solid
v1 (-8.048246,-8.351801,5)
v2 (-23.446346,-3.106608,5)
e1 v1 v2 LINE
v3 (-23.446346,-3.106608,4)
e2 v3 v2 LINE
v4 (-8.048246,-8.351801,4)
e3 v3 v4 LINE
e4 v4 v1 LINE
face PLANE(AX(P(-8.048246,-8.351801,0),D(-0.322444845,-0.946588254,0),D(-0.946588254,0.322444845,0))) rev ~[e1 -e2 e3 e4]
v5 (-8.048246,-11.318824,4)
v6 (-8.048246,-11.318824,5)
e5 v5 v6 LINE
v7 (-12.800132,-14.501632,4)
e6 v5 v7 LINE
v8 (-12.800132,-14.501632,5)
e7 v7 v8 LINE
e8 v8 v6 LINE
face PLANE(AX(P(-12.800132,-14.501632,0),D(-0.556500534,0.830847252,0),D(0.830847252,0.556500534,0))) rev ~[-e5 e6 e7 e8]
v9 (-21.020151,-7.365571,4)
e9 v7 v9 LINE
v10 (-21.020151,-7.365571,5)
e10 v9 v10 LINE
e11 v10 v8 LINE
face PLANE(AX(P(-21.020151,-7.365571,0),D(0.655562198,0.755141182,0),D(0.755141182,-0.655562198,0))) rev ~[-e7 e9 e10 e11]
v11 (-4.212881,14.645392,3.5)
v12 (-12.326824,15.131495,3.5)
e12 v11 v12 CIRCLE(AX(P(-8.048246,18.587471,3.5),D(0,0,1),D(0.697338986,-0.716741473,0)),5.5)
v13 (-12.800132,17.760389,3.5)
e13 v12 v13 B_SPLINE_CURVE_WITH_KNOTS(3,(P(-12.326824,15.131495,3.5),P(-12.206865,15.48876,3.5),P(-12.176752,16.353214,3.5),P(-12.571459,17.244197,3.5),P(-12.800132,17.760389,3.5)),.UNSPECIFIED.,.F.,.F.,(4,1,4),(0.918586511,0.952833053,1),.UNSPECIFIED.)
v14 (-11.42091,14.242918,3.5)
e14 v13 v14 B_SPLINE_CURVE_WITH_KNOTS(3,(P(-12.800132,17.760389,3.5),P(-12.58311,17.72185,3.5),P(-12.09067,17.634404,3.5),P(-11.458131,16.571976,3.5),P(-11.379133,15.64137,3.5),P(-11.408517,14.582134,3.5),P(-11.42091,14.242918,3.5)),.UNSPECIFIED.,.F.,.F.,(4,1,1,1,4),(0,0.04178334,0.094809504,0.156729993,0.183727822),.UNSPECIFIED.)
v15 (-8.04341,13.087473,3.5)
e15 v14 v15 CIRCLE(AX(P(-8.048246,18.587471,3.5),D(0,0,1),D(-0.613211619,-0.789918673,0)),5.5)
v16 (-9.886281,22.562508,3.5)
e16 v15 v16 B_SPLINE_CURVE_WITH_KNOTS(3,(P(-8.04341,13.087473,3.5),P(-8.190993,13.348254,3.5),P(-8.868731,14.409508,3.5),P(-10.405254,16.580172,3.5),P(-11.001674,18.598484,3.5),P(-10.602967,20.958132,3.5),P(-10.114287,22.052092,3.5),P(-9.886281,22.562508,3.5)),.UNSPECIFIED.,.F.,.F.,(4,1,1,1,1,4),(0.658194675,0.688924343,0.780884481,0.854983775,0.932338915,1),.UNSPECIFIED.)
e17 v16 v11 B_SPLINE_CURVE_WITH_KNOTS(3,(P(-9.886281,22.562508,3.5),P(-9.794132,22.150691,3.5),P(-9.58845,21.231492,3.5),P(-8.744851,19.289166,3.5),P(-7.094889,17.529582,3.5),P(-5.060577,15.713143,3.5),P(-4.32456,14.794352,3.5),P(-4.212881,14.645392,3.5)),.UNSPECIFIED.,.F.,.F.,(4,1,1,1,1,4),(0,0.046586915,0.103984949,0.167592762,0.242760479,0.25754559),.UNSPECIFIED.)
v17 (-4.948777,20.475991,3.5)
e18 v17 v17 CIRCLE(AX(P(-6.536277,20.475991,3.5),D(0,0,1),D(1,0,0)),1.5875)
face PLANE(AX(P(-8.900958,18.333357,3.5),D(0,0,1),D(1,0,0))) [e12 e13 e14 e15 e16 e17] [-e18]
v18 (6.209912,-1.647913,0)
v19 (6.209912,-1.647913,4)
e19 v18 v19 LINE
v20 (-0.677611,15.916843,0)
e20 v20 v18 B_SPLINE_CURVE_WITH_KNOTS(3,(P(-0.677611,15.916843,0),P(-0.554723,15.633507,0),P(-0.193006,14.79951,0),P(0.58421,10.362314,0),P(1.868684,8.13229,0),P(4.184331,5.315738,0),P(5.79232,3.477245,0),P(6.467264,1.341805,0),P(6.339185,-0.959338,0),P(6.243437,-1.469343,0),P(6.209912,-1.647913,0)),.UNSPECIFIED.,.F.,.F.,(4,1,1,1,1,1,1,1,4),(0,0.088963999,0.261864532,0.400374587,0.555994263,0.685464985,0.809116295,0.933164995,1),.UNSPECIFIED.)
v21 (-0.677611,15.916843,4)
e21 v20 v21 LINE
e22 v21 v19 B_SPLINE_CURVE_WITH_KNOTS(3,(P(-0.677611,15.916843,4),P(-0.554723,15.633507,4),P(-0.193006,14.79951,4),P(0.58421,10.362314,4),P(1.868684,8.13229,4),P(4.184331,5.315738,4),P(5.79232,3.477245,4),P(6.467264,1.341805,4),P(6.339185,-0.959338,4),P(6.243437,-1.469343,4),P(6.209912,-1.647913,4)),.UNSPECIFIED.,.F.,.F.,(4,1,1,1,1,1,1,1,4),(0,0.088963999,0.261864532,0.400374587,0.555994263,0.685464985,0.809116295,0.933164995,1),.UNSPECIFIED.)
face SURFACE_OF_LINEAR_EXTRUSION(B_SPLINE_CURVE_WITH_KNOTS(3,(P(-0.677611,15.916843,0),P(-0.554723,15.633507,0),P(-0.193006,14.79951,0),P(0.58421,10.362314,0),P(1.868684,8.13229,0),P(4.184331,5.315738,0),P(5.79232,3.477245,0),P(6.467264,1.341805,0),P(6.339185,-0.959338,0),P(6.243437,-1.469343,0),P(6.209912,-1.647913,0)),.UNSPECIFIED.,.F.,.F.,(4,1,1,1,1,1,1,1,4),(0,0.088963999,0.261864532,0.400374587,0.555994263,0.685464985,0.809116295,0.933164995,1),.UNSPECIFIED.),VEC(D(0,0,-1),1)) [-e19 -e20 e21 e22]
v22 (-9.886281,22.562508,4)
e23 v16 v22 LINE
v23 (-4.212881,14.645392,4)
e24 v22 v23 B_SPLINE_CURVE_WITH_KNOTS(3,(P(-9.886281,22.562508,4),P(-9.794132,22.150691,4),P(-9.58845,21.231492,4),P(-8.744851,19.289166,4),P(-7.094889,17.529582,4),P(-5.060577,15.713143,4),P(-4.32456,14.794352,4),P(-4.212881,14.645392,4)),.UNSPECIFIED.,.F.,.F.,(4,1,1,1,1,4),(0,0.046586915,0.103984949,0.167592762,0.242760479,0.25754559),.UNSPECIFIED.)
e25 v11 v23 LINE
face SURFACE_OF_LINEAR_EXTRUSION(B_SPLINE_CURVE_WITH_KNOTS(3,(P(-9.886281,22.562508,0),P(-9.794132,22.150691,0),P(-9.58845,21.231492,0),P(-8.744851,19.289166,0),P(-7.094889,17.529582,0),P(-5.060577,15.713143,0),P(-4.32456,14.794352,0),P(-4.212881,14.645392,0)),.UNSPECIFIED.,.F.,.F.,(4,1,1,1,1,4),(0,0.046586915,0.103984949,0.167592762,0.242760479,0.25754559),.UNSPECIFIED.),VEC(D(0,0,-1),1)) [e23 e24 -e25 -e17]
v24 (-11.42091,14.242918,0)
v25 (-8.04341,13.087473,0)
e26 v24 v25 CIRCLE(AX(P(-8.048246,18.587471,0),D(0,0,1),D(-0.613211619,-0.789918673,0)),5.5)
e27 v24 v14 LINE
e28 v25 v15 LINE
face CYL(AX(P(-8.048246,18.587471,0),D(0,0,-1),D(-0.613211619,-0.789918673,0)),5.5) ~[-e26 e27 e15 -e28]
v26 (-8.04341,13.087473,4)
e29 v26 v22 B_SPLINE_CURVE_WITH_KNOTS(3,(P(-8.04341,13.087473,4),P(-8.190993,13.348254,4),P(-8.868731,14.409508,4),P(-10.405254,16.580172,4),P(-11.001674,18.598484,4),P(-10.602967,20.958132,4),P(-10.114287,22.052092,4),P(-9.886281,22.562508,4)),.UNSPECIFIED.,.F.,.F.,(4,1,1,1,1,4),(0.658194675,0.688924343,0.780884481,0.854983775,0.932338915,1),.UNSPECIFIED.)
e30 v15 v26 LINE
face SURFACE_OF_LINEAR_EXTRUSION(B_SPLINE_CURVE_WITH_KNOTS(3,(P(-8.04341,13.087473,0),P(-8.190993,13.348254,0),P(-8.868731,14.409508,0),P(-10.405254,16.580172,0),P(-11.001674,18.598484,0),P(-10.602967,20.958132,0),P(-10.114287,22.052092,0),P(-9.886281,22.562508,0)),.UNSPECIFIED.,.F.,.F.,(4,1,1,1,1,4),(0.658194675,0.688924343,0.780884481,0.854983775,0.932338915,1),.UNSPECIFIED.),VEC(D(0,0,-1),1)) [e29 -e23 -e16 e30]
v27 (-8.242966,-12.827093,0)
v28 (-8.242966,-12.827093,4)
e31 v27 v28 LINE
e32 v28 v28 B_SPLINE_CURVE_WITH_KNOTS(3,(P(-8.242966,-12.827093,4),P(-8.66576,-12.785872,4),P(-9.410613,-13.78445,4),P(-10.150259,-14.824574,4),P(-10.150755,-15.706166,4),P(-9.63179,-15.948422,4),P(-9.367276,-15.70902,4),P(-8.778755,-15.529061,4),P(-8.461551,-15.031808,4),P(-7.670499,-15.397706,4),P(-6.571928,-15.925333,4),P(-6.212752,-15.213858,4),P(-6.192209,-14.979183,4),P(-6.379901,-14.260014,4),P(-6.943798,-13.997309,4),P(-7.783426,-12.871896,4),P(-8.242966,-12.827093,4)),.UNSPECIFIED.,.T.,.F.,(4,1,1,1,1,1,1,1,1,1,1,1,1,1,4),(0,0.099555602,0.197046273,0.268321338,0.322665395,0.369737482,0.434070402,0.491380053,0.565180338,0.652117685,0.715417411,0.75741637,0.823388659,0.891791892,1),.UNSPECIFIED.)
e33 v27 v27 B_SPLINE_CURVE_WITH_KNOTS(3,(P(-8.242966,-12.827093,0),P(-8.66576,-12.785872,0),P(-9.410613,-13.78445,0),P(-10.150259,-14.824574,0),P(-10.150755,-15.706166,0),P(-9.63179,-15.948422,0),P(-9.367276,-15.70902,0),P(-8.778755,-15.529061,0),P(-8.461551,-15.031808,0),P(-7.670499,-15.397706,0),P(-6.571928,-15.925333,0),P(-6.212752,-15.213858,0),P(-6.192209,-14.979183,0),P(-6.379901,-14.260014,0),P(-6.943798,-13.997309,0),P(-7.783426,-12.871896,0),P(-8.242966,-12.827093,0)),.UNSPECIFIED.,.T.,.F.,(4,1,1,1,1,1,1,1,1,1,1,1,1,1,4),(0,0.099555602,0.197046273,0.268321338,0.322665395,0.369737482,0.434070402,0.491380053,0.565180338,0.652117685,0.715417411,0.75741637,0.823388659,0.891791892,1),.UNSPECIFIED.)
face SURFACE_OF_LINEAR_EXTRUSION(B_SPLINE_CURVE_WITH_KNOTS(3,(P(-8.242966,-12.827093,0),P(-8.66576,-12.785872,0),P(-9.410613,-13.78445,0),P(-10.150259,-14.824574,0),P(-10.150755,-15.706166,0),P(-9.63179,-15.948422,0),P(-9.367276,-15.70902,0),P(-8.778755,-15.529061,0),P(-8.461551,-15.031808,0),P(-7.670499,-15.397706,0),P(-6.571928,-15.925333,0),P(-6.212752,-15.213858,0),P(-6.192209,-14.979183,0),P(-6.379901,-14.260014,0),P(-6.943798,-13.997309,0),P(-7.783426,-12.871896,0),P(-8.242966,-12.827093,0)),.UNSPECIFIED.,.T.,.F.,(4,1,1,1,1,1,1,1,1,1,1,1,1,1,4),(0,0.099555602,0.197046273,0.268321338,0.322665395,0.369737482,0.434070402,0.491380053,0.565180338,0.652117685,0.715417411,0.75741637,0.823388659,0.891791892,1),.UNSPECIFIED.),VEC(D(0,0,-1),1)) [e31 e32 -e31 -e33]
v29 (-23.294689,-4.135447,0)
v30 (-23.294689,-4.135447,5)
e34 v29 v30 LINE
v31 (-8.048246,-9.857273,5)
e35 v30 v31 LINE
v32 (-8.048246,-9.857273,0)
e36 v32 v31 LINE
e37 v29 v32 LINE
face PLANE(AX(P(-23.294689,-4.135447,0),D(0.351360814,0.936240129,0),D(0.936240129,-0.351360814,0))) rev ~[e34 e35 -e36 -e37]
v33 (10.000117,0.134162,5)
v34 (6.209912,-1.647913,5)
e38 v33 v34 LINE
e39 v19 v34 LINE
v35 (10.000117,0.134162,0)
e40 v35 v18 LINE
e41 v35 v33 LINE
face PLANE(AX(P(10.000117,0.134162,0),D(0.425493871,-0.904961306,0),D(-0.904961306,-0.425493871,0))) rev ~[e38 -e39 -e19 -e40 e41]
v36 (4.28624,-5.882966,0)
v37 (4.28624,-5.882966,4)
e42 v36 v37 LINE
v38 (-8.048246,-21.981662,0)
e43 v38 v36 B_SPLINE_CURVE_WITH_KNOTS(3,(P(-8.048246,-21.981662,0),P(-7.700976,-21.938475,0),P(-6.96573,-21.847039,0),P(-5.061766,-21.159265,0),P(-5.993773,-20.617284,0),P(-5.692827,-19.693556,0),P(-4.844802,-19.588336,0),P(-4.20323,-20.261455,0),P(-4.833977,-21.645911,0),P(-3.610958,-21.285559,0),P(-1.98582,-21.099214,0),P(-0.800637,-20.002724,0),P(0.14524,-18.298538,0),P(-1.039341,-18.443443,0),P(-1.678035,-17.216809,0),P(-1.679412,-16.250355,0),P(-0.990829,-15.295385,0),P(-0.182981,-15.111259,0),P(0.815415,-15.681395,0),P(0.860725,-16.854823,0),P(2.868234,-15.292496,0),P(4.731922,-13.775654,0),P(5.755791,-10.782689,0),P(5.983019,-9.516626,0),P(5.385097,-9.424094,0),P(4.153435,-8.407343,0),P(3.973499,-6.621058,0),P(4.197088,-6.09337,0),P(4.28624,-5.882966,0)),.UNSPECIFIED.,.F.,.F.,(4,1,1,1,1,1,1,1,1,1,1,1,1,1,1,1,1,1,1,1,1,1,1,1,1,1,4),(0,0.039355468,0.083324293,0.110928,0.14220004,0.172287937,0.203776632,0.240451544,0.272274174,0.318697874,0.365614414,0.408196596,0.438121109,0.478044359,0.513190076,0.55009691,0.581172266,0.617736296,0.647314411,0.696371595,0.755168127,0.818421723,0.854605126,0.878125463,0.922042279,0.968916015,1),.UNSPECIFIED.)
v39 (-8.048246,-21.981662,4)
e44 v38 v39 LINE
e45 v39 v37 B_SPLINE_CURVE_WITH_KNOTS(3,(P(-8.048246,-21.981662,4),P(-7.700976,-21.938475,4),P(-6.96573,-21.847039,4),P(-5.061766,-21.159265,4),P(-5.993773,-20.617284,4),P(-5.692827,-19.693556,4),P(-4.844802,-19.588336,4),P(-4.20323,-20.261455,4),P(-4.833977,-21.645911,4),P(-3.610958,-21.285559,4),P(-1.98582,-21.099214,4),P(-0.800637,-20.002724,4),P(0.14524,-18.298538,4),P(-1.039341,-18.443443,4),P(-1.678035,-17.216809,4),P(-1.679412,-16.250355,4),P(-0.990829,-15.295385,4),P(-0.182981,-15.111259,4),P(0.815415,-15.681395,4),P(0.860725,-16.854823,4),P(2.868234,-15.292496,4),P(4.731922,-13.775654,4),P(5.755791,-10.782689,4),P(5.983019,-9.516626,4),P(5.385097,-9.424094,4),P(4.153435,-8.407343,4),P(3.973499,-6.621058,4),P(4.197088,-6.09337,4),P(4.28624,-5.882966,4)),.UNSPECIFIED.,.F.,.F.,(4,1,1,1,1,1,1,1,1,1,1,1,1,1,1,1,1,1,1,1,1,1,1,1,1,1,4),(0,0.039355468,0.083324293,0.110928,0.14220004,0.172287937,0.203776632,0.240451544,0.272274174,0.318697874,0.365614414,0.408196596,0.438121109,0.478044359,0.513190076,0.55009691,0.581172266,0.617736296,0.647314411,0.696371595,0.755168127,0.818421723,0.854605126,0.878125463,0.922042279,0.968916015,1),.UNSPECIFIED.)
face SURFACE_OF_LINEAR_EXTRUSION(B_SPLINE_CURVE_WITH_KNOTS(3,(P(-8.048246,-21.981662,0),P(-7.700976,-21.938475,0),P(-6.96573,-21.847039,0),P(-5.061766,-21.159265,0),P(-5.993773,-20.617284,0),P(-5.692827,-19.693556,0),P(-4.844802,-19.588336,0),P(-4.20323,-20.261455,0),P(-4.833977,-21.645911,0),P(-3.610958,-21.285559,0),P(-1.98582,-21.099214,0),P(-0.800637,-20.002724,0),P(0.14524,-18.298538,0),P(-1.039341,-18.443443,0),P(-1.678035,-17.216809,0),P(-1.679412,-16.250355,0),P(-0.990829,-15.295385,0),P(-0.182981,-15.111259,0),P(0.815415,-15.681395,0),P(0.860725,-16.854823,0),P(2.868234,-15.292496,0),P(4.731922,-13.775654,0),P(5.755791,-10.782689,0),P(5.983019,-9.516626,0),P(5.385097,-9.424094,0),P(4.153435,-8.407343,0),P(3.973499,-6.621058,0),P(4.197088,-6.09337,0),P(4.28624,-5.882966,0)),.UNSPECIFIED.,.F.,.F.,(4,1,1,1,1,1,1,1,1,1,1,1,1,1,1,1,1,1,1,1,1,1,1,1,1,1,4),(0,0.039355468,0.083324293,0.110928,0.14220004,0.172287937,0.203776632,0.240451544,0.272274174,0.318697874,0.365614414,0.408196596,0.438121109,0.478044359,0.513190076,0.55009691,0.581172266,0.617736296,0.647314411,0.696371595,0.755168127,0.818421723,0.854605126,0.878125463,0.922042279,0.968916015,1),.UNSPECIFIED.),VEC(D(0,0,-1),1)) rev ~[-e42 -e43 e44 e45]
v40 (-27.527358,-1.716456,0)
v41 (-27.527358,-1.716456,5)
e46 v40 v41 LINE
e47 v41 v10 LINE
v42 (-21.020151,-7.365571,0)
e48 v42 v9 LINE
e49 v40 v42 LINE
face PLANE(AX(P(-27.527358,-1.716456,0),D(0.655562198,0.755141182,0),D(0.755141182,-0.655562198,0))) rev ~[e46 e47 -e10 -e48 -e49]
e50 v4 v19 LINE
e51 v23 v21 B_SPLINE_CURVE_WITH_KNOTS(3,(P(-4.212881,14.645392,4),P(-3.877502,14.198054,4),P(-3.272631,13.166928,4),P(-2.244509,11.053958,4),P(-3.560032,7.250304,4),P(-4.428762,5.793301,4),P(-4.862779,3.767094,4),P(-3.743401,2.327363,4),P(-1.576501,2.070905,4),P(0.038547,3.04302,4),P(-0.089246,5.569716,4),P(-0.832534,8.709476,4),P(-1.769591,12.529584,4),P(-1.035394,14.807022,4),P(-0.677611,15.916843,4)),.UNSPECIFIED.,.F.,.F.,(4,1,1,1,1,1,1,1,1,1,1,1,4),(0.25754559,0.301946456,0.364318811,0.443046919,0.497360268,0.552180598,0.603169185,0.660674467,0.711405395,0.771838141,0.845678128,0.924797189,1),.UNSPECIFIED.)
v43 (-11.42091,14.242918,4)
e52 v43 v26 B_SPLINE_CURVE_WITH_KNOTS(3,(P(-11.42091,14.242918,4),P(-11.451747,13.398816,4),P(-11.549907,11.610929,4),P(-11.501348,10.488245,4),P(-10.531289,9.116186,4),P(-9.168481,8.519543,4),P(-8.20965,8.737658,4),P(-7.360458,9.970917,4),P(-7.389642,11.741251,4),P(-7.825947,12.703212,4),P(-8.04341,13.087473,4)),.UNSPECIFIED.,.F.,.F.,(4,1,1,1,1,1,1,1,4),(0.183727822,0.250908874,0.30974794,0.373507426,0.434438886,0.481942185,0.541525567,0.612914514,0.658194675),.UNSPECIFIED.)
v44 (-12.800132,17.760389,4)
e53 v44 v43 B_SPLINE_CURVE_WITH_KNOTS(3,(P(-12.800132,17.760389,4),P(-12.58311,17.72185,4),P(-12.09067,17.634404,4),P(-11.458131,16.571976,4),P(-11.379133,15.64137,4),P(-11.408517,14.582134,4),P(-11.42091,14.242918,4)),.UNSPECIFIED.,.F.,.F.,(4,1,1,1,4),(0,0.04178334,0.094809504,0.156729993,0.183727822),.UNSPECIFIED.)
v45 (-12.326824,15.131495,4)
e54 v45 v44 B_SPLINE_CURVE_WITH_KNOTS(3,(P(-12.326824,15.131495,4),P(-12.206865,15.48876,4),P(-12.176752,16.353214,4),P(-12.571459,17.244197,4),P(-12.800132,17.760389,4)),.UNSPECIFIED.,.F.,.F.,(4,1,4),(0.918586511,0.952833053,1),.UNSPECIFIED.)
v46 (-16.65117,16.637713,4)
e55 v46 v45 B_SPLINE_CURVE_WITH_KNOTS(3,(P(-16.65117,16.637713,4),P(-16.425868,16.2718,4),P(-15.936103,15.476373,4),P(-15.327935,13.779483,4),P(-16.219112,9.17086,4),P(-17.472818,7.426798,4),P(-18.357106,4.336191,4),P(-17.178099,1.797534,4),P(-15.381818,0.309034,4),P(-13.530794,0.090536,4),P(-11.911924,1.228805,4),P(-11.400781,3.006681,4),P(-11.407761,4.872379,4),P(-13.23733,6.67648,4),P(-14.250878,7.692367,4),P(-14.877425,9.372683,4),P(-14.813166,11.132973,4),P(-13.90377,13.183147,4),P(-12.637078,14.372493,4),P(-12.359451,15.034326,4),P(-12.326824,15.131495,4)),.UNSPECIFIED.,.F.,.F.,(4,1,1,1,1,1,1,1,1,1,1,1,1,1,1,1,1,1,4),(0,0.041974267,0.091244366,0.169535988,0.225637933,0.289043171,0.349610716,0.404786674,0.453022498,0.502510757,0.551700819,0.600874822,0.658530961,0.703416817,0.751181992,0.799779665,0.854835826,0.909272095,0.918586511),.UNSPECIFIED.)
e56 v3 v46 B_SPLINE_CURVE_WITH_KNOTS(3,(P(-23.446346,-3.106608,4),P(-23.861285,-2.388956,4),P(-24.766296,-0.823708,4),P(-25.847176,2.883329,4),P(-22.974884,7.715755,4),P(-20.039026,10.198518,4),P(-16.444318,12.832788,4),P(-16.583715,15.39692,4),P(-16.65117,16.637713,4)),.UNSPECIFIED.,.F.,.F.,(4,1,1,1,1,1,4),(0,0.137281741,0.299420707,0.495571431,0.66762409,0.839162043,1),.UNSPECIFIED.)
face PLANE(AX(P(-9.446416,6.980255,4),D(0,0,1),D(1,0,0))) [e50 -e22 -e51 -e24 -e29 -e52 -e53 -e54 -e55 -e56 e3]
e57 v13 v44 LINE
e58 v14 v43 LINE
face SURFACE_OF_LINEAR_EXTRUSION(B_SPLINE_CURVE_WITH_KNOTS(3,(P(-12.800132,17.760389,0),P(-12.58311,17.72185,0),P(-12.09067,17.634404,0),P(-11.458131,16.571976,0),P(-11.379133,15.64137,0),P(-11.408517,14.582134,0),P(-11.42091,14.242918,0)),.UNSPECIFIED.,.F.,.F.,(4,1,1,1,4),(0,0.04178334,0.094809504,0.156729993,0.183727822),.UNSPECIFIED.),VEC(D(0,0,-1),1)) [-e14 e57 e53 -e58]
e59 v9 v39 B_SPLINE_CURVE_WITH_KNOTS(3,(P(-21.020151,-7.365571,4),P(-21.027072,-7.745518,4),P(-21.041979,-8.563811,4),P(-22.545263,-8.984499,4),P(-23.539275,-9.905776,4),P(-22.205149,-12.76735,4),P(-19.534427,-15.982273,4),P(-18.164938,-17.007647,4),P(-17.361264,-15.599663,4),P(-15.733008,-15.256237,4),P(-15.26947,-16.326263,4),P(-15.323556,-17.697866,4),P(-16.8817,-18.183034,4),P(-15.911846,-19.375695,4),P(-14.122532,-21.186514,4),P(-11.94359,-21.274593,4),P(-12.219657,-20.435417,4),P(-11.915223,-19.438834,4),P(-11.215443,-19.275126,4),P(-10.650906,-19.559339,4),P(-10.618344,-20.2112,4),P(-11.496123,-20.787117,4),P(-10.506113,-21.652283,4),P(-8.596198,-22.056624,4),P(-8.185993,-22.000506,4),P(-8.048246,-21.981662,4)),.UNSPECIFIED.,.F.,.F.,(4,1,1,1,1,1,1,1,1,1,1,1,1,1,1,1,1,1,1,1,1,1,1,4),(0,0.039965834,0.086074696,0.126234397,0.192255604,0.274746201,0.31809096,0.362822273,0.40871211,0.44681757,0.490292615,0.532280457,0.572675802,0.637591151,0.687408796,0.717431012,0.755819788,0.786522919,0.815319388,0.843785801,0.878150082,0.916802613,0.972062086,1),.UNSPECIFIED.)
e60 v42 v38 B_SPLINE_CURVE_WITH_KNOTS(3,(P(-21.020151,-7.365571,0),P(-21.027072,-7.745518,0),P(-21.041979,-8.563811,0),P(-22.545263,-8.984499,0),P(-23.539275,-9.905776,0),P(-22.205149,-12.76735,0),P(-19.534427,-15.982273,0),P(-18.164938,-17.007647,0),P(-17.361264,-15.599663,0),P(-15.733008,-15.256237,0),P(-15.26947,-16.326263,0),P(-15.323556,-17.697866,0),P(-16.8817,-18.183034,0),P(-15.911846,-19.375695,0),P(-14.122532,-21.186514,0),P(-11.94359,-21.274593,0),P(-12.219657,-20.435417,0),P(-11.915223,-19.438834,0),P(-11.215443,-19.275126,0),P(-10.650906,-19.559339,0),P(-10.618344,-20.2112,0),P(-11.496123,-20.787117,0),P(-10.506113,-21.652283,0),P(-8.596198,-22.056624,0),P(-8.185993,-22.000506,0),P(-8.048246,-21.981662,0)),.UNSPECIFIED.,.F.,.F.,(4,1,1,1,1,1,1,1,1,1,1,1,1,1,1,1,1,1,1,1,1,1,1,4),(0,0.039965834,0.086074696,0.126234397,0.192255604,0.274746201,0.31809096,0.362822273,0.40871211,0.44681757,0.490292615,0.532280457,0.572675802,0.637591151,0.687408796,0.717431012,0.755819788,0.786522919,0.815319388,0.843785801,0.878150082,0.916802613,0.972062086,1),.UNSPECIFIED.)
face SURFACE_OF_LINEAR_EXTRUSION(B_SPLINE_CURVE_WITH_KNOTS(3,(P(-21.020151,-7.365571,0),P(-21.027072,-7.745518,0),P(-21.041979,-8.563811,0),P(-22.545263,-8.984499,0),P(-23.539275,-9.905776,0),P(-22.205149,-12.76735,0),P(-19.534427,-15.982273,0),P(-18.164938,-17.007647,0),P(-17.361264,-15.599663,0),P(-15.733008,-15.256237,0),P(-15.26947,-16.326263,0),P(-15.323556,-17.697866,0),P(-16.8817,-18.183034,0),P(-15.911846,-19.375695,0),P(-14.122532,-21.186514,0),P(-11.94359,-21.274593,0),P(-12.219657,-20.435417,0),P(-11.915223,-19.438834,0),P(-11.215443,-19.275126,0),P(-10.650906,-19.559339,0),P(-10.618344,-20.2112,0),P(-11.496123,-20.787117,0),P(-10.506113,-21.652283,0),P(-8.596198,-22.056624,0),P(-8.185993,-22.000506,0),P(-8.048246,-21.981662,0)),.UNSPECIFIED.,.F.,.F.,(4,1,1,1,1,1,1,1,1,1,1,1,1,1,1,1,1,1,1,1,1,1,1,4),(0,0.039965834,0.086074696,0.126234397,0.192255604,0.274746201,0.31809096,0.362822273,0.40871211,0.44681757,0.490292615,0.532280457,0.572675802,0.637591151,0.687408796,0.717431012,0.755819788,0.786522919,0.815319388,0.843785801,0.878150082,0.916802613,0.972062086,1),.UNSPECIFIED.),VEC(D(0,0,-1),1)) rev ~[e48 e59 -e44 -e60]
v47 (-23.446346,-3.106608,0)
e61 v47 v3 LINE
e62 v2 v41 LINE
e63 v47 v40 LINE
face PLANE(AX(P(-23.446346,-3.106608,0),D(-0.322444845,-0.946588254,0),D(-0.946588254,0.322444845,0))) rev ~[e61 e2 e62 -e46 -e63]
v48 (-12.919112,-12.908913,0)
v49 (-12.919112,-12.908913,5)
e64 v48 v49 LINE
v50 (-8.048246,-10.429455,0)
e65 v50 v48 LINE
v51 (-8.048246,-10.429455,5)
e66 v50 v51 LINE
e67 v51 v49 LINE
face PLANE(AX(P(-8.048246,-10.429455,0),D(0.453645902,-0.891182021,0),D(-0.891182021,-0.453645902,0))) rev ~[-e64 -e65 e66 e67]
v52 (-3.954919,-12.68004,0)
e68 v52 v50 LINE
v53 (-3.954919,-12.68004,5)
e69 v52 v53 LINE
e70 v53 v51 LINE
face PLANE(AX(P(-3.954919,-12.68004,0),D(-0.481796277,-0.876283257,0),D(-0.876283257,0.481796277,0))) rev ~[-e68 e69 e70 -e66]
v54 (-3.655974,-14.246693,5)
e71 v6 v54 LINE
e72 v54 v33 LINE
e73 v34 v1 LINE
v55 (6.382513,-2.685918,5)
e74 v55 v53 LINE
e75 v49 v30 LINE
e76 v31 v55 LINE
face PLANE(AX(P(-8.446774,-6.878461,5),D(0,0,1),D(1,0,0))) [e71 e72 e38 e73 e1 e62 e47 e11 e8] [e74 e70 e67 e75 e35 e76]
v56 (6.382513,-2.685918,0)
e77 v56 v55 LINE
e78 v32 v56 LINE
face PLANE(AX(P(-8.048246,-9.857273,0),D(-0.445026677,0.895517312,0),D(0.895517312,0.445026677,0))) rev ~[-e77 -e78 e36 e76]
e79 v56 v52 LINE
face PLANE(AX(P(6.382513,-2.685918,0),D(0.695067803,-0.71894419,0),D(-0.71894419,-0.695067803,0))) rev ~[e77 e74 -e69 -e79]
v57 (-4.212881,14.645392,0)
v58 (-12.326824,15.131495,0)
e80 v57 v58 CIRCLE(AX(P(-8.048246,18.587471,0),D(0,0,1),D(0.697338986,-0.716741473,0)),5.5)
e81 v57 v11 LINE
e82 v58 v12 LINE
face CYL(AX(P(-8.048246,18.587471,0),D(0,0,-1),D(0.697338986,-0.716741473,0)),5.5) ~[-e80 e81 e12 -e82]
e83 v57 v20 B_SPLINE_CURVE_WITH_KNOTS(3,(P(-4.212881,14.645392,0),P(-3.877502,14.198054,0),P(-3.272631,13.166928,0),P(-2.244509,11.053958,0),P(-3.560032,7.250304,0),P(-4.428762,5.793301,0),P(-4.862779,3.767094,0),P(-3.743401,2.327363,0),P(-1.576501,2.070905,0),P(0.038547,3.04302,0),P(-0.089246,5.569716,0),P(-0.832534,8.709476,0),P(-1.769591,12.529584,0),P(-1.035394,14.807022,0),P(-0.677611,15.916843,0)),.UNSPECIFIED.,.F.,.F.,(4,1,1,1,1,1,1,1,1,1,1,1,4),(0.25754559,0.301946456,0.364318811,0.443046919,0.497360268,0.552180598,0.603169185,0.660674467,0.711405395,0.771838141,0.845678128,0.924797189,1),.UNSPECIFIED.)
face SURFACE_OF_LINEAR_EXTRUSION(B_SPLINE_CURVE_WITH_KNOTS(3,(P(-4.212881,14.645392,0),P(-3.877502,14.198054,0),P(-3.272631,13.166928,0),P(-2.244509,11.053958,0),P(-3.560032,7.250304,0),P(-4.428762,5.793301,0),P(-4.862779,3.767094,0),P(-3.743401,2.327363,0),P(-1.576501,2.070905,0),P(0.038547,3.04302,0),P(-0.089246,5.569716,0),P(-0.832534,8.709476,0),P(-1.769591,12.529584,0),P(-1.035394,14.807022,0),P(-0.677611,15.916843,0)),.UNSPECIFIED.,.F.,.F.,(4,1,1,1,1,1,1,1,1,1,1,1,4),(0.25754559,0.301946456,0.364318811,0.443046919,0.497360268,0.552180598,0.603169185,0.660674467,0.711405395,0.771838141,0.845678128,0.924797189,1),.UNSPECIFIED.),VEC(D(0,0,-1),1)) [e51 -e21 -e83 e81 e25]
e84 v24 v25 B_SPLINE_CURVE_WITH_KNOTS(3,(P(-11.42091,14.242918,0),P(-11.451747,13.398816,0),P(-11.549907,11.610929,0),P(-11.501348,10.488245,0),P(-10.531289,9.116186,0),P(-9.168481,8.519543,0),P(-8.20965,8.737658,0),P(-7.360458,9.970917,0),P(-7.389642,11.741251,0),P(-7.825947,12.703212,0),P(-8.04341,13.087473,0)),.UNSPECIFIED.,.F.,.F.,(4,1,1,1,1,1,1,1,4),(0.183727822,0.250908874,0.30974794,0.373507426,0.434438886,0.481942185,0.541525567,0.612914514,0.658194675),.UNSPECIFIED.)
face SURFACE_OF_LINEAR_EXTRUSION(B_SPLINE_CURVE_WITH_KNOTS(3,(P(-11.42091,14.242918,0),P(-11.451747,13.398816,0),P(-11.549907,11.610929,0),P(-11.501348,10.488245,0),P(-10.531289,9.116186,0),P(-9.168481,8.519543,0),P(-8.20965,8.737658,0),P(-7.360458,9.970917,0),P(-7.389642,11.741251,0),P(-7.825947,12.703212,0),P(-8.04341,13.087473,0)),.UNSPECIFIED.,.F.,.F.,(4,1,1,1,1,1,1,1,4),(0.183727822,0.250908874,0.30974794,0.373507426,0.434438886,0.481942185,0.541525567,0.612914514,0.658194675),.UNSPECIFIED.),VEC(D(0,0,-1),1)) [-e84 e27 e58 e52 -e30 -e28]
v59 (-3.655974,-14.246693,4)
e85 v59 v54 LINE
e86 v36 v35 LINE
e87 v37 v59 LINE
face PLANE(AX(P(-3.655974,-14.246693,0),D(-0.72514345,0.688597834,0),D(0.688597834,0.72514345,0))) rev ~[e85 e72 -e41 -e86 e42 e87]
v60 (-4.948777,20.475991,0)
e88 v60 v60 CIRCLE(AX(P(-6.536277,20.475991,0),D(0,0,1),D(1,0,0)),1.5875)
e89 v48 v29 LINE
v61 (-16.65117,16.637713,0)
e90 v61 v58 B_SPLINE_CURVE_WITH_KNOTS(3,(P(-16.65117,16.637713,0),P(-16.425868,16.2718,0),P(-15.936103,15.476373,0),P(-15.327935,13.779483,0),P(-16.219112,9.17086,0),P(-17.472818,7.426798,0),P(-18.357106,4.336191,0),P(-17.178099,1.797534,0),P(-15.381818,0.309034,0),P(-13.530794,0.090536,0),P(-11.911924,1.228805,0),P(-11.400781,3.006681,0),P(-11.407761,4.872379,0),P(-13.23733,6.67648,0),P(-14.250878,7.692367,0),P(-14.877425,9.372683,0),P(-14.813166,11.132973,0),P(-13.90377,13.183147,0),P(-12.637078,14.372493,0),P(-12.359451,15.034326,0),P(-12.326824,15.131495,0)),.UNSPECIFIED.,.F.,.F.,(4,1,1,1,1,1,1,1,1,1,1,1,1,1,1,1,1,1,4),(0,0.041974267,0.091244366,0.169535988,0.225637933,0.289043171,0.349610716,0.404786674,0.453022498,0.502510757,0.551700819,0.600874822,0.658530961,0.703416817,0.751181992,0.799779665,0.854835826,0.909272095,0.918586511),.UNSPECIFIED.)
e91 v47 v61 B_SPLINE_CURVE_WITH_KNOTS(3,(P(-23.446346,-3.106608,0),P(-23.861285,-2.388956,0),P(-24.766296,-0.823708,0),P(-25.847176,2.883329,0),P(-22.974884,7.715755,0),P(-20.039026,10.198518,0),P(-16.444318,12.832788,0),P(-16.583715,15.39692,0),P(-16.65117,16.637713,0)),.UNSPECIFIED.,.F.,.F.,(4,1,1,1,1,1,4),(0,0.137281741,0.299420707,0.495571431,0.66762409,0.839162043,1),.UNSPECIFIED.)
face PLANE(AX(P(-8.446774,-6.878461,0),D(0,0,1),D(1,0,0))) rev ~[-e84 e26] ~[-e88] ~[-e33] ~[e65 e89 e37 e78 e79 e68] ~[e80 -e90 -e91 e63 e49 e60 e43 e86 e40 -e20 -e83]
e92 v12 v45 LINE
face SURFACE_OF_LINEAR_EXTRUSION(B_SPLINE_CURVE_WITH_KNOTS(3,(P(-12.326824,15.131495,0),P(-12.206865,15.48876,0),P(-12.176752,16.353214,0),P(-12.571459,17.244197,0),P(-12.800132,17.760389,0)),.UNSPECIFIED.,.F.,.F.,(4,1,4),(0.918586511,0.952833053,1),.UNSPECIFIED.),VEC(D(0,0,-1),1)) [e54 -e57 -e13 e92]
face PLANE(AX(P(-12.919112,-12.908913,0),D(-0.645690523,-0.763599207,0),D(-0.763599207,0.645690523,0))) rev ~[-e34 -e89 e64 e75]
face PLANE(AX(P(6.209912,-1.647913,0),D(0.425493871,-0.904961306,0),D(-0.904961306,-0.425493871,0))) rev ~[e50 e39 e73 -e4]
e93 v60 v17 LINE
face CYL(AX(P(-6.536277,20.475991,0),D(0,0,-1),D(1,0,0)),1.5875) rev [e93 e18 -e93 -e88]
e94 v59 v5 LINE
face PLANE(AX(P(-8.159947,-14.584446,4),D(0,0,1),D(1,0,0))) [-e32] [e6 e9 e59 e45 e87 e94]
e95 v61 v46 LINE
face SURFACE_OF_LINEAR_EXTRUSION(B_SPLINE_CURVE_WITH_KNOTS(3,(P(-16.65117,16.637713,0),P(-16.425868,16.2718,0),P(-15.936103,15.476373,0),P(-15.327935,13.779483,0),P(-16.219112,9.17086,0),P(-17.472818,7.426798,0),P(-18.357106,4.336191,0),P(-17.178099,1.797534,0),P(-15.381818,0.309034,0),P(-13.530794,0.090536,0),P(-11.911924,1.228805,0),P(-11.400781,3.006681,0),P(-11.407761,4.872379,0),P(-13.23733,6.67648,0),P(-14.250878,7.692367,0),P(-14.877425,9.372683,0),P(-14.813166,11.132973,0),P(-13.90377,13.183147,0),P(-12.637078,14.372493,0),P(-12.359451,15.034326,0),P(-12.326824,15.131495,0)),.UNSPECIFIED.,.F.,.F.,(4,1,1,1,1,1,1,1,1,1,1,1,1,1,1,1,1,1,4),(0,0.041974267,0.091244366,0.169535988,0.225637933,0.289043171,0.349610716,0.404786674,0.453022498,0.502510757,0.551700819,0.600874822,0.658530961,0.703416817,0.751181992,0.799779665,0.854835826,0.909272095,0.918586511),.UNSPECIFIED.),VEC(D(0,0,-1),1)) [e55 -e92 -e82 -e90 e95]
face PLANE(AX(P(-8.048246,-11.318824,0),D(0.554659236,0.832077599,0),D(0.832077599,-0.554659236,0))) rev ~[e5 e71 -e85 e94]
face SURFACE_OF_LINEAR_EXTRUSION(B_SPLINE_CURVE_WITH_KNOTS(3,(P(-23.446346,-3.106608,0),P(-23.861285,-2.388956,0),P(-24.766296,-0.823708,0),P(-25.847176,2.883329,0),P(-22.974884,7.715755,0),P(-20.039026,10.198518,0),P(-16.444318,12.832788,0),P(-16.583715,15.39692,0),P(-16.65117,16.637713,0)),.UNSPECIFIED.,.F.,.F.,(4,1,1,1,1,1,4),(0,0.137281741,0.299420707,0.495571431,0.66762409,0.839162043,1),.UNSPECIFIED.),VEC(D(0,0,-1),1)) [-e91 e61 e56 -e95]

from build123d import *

# Parameters (mm, degrees)
F1_DEPTH = 4
F0_R     = 1.5875
F2_DEPTH = 3.5
F3_DEPTH = 5


with BuildPart() as f1:
    # F0 (on Top) → F1 (new body)
    with BuildSketch(Plane.XY):
        with BuildLine():
            Line((-23.4463458035, -3.1066080533), (-8.0482456853, -8.351800965))
            Line((-8.0482456853, -8.351800965), (6.2099122978, -1.6479134176))
            add(Edge.make_bspline(
                [(-0.6776107475, 15.9168429673), (-0.5547234187, 15.6335068813), (-0.193005946, 14.7995102936), (0.5842103137, 10.3623141888), (1.8686840331, 8.1322903263), (4.1843306677, 5.3157376132), (5.7923203266, 3.4772454688), (6.4672636362, 1.341805332), (6.339184868, -0.9593375788), (6.2434369598, -1.4693428761), (6.2099122978, -1.6479134176)],
                knots=[0, 0, 0, 0, 0.0889639989, 0.2618645319, 0.400374587, 0.555994263, 0.6854649854, 0.8091162952, 0.933164995, 1, 1, 1, 1], degree=3))
            add(Edge.make_bspline(
                [(-4.2128812638, 14.6453924647), (-3.8775023598, 14.1980538485), (-3.272630837, 13.1669278968), (-2.244509103, 11.0539583362), (-3.5600318825, 7.250304177), (-4.4287622123, 5.7933014491), (-4.8627791788, 3.7670937923), (-3.7434011839, 2.3273631703), (-1.5765012047, 2.0709050405), (0.0385468062, 3.0430204467), (-0.0892461913, 5.5697158518), (-0.8325343001, 8.7094761689), (-1.7695911961, 12.5295841732), (-1.0353936141, 14.8070216671), (-0.6776107475, 15.9168429673)],
                knots=[0.2575455897, 0.2575455897, 0.2575455897, 0.2575455897, 0.3019464562, 0.3643188106, 0.4430469187, 0.4973602682, 0.5521805979, 0.603169185, 0.6606744669, 0.7114053954, 0.7718381415, 0.8456781275, 0.9247971891, 1, 1, 1, 1], degree=3))
            add(Edge.make_bspline(
                [(-9.8862806335, 22.56250754), (-9.7941318664, 22.1506914948), (-9.588449974, 21.2314919632), (-8.744850994, 19.2891661398), (-7.0948894855, 17.5295824588), (-5.0605769539, 15.7131426738), (-4.3245595881, 14.7943524214), (-4.2128812638, 14.6453924647)],
                knots=[0, 0, 0, 0, 0.0465869149, 0.1039849489, 0.1675927617, 0.2427604786, 0.2575455897, 0.2575455897, 0.2575455897, 0.2575455897], degree=3))
            add(Edge.make_bspline(
                [(-8.0434103396, 13.0874726912), (-8.1909932862, 13.3482535829), (-8.868731027, 14.4095082148), (-10.4052543664, 16.5801724301), (-11.0016735043, 18.598484066), (-10.6029665302, 20.9581319115), (-10.1142868351, 22.0520920363), (-9.8862806335, 22.56250754)],
                knots=[0.6581946752, 0.6581946752, 0.6581946752, 0.6581946752, 0.6889243431, 0.7808844805, 0.8549837752, 0.9323389146, 1, 1, 1, 1], degree=3))
            add(Edge.make_bspline(
                [(-11.4209095896, 14.2429178627), (-11.4517468384, 13.3988160816), (-11.5499069823, 11.6109293485), (-11.5013479001, 10.4882445874), (-10.531288945, 9.1161864772), (-9.168481161, 8.5195425848), (-8.2096502519, 8.7376578486), (-7.3604577791, 9.9709171995), (-7.3896420016, 11.7412506591), (-7.8259468897, 12.7032120859), (-8.0434103396, 13.0874726912)],
                knots=[0.1837278223, 0.1837278223, 0.1837278223, 0.1837278223, 0.2509088743, 0.3097479396, 0.3735074258, 0.4344388861, 0.4819421849, 0.5415255673, 0.612914514, 0.6581946752, 0.6581946752, 0.6581946752, 0.6581946752], degree=3))
            add(Edge.make_bspline(
                [(-12.8001319264, 17.7603885514), (-12.583109562, 17.7218502114), (-12.0906696814, 17.6344038562), (-11.4581307332, 16.5719756068), (-11.3791334498, 15.6413701517), (-11.4085171256, 14.5821342746), (-11.4209095896, 14.2429178627)],
                knots=[0, 0, 0, 0, 0.0417833397, 0.094809504, 0.1567299935, 0.1837278223, 0.1837278223, 0.1837278223, 0.1837278223], degree=3))
            add(Edge.make_bspline(
                [(-12.3268241169, 15.1314950732), (-12.2068654393, 15.4887601), (-12.1767524667, 16.3532142218), (-12.5714586795, 17.2441971375), (-12.8001319264, 17.7603885514)],
                knots=[0.9185865108, 0.9185865108, 0.9185865108, 0.9185865108, 0.952833053, 1, 1, 1, 1], degree=3))
            add(Edge.make_bspline(
                [(-16.6511703283, 16.6377127171), (-16.4258684407, 16.2718001963), (-15.9361034206, 15.4763734246), (-15.3279351175, 13.7794825), (-16.2191117536, 9.1708597436), (-17.4728177376, 7.4267977861), (-18.3571062486, 4.3361910837), (-17.1780986632, 1.7975340283), (-15.3818177743, 0.3090335929), (-13.5307942057, 0.0905361866), (-11.9119236503, 1.2288050387), (-11.4007805405, 3.0066811855), (-11.407761035, 4.8723790531), (-13.2373303166, 6.6764804394), (-14.2508784646, 7.6923667527), (-14.8774252979, 9.3726830754), (-14.8131660002, 11.1329727587), (-13.9037698319, 13.1831468203), (-12.6370779779, 14.3724927453), (-12.3594506235, 15.034325698), (-12.3268241169, 15.1314950732)],
                knots=[0, 0, 0, 0, 0.0419742673, 0.0912443659, 0.1695359879, 0.2256379329, 0.2890431708, 0.3496107164, 0.404786674, 0.4530224975, 0.5025107568, 0.5517008189, 0.6008748216, 0.6585309608, 0.7034168172, 0.7511819918, 0.7997796648, 0.8548358262, 0.9092720948, 0.9185865108, 0.9185865108, 0.9185865108, 0.9185865108], degree=3))
            add(Edge.make_bspline(
                [(-23.4463458035, -3.1066080533), (-23.8612850977, -2.3889557393), (-24.7662955917, -0.823707792), (-25.8471760533, 2.883328846), (-22.9748836174, 7.7157545922), (-20.0390259464, 10.1985178591), (-16.4443182773, 12.8327875278), (-16.5837154908, 15.3969195556), (-16.6511703283, 16.6377127171)],
                knots=[0, 0, 0, 0, 0.1372817414, 0.2994207075, 0.4955714308, 0.6676240904, 0.8391620434, 1, 1, 1, 1], degree=3))
        make_face()
    extrude(amount=F1_DEPTH)

    # F0 (on Top) → F2 (join)
    with BuildSketch(Plane.XY):
        with BuildLine():
            ThreePointArc((-4.2128812638, 14.6453924647), (-7.7193329291, 24.0776268839), (-12.3268241169, 15.1314950732))
            add(Edge.make_bspline(
                [(-12.3268241169, 15.1314950732), (-12.2068654393, 15.4887601), (-12.1767524667, 16.3532142218), (-12.5714586795, 17.2441971375), (-12.8001319264, 17.7603885514)],
                knots=[0.9185865108, 0.9185865108, 0.9185865108, 0.9185865108, 0.952833053, 1, 1, 1, 1], degree=3))
            add(Edge.make_bspline(
                [(-12.8001319264, 17.7603885514), (-12.583109562, 17.7218502114), (-12.0906696814, 17.6344038562), (-11.4581307332, 16.5719756068), (-11.3791334498, 15.6413701517), (-11.4085171256, 14.5821342746), (-11.4209095896, 14.2429178627)],
                knots=[0, 0, 0, 0, 0.0417833397, 0.094809504, 0.1567299935, 0.1837278223, 0.1837278223, 0.1837278223, 0.1837278223], degree=3))
            ThreePointArc((-11.4209095896, 14.2429178627), (-9.8285070948, 13.383561524), (-8.0434103396, 13.0874726912))
            add(Edge.make_bspline(
                [(-8.0434103396, 13.0874726912), (-8.1909932862, 13.3482535829), (-8.868731027, 14.4095082148), (-10.4052543664, 16.5801724301), (-11.0016735043, 18.598484066), (-10.6029665302, 20.9581319115), (-10.1142868351, 22.0520920363), (-9.8862806335, 22.56250754)],
                knots=[0.6581946752, 0.6581946752, 0.6581946752, 0.6581946752, 0.6889243431, 0.7808844805, 0.8549837752, 0.9323389146, 1, 1, 1, 1], degree=3))
            add(Edge.make_bspline(
                [(-9.8862806335, 22.56250754), (-9.7941318664, 22.1506914948), (-9.588449974, 21.2314919632), (-8.744850994, 19.2891661398), (-7.0948894855, 17.5295824588), (-5.0605769539, 15.7131426738), (-4.3245595881, 14.7943524214), (-4.2128812638, 14.6453924647)],
                knots=[0, 0, 0, 0, 0.0465869149, 0.1039849489, 0.1675927617, 0.2427604786, 0.2575455897, 0.2575455897, 0.2575455897, 0.2575455897], degree=3))
        make_face()
        with Locations((-6.536277011, 20.4759910703)):
            Circle(F0_R, mode=Mode.SUBTRACT)
    extrude(amount=F2_DEPTH)



with BuildPart() as f1b:
    # F0 (on Top) → F1, piece 2 (new body)
    with BuildSketch(Plane.XY):
        with BuildLine():
            Line((-12.8001319264, -14.501632193), (-21.0201506282, -7.365571203))
            add(Edge.make_bspline(
                [(-21.0201506282, -7.365571203), (-21.0270720445, -7.7455175358), (-21.0419787447, -8.563810607), (-22.5452629281, -8.9844988646), (-23.5392754003, -9.9057758794), (-22.205148695, -12.7673504234), (-19.5344265051, -15.9822727272), (-18.1649380561, -17.0076468473), (-17.3612644655, -15.5996634609), (-15.7330081132, -15.2562374112), (-15.2694695887, -16.3262633776), (-15.3235558006, -17.6978661671), (-16.8817003497, -18.1830340703), (-15.9118457135, -19.3756949292), (-14.1225321207, -21.1865135727), (-11.9435899062, -21.2745928817), (-12.2196569116, -20.4354169189), (-11.9152232552, -19.4388344727), (-11.2154431303, -19.275125977), (-10.6509058358, -19.5593394586), (-10.6183440868, -20.2111997017), (-11.4961234683, -20.7871170188), (-10.5061126059, -21.6522828302), (-8.5961978355, -22.0566237572), (-8.1859934582, -22.0005064801), (-8.0482456853, -21.981662141)],
                knots=[0, 0, 0, 0, 0.0399658339, 0.0860746957, 0.1262343968, 0.1922556043, 0.2747462011, 0.3180909602, 0.3628222734, 0.4087121104, 0.4468175698, 0.4902926153, 0.5322804571, 0.5726758017, 0.6375911507, 0.6874087964, 0.7174310117, 0.7558197876, 0.7865229194, 0.8153193878, 0.8437858011, 0.8781500818, 0.9168026133, 0.9720620858, 1, 1, 1, 1], degree=3))
            add(Edge.make_bspline(
                [(-8.0482456853, -21.981662141), (-7.7009764258, -21.9384752182), (-6.96573003, -21.8470388783), (-5.0617657899, -21.1592653451), (-5.9937730496, -20.6172844973), (-5.6928265136, -19.6935558075), (-4.8448024043, -19.5883363726), (-4.203229863, -20.2614546114), (-4.8339768273, -21.6459106075), (-3.6109578676, -21.2855589949), (-1.9858198145, -21.0992142306), (-0.8006366586, -20.0027238785), (0.1452397514, -18.2985380272), (-1.0393414733, -18.4434433041), (-1.6780349568, -17.2168093882), (-1.6794115936, -16.2503550631), (-0.990828544, -15.2953847364), (-0.1829806405, -15.1112589612), (0.8154146698, -15.6813947725), (0.8607252862, -16.854822736), (2.8682344188, -15.2924955121), (4.7319221795, -13.7756542104), (5.7557913129, -10.7826890536), (5.9830191381, -9.5166259324), (5.3850966638, -9.4240942345), (4.1534352714, -8.4073432382), (3.9734989521, -6.6210578943), (4.1970882612, -6.0933699584), (4.2862397487, -5.8829656055)],
                knots=[0, 0, 0, 0, 0.0393554677, 0.0833242935, 0.1109279998, 0.1422000398, 0.1722879369, 0.2037766323, 0.2404515444, 0.2722741743, 0.3186978742, 0.3656144137, 0.4081965956, 0.4381211093, 0.4780443593, 0.5131900759, 0.5500969102, 0.5811722656, 0.6177362965, 0.6473144107, 0.696371595, 0.7551681269, 0.8184217229, 0.8546051255, 0.8781254634, 0.9220422792, 0.9689160152, 1, 1, 1, 1], degree=3))
            Line((4.2862397487, -5.8829656055), (-3.6559742895, -14.2466928827))
            Line((-3.6559742895, -14.2466928827), (-8.0482456853, -11.3188242557))
            Line((-8.0482456853, -11.3188242557), (-12.8001319264, -14.501632193))
        make_face()
        with BuildLine():
            add(Edge.make_bspline(
                [(-8.2429656759, -12.8270927817), (-8.6657598551, -12.7858720047), (-9.4106131239, -13.784449908), (-10.1502593526, -14.824574061), (-10.1507548975, -15.7061662558), (-9.6317898388, -15.9484218554), (-9.3672756374, -15.7090204962), (-8.7787554571, -15.5290606144), (-8.4615513296, -15.031807584), (-7.6704990745, -15.3977055847), (-6.5719278365, -15.9253331651), (-6.2127524942, -15.213858486), (-6.1922088539, -14.9791826117), (-6.3799008503, -14.2600138959), (-6.9437980583, -13.9973090058), (-7.7834259076, -12.8718961097), (-8.2429656759, -12.8270927817)],
                knots=[0, 0, 0, 0, 0.0995556023, 0.1970462733, 0.2683213383, 0.3226653949, 0.3697374817, 0.4340704019, 0.4913800526, 0.5651803382, 0.6521176851, 0.7154174109, 0.7574163697, 0.8233886592, 0.8917918916, 1, 1, 1, 1], degree=3))
        make_face(mode=Mode.SUBTRACT)
    extrude(amount=F1_DEPTH)


with BuildPart() as f1_1:
    add(f1.part)

    add(f1b.part)  # F3 merges F1b
    # F0 (on Top) → F3 (join)
    with BuildSketch(Plane.XY):
        Polygon((6.2099122978, -1.6479134176), (-8.0482456853, -8.351800965), (-23.4463458035, -3.1066080533), (-27.5273583849, -1.7164561449), (-21.0201506282, -7.365571203), (-12.8001319264, -14.501632193), (-8.0482456853, -11.3188242557), (-3.6559742895, -14.2466928827), (4.2862397487, -5.8829656055), (10.0001171211, 0.1341615845), align=None)
        Polygon((-23.2946891358, -4.1354470903), (-8.0482456853, -9.857272731), (6.3825133237, -2.6859175431), (-3.9549185914, -12.6800397428), (-8.0482456853, -10.4294549691), (-12.9191121106, -12.9089131969), align=None, mode=Mode.SUBTRACT)
    extrude(amount=F3_DEPTH)


solid = f1_1.part
